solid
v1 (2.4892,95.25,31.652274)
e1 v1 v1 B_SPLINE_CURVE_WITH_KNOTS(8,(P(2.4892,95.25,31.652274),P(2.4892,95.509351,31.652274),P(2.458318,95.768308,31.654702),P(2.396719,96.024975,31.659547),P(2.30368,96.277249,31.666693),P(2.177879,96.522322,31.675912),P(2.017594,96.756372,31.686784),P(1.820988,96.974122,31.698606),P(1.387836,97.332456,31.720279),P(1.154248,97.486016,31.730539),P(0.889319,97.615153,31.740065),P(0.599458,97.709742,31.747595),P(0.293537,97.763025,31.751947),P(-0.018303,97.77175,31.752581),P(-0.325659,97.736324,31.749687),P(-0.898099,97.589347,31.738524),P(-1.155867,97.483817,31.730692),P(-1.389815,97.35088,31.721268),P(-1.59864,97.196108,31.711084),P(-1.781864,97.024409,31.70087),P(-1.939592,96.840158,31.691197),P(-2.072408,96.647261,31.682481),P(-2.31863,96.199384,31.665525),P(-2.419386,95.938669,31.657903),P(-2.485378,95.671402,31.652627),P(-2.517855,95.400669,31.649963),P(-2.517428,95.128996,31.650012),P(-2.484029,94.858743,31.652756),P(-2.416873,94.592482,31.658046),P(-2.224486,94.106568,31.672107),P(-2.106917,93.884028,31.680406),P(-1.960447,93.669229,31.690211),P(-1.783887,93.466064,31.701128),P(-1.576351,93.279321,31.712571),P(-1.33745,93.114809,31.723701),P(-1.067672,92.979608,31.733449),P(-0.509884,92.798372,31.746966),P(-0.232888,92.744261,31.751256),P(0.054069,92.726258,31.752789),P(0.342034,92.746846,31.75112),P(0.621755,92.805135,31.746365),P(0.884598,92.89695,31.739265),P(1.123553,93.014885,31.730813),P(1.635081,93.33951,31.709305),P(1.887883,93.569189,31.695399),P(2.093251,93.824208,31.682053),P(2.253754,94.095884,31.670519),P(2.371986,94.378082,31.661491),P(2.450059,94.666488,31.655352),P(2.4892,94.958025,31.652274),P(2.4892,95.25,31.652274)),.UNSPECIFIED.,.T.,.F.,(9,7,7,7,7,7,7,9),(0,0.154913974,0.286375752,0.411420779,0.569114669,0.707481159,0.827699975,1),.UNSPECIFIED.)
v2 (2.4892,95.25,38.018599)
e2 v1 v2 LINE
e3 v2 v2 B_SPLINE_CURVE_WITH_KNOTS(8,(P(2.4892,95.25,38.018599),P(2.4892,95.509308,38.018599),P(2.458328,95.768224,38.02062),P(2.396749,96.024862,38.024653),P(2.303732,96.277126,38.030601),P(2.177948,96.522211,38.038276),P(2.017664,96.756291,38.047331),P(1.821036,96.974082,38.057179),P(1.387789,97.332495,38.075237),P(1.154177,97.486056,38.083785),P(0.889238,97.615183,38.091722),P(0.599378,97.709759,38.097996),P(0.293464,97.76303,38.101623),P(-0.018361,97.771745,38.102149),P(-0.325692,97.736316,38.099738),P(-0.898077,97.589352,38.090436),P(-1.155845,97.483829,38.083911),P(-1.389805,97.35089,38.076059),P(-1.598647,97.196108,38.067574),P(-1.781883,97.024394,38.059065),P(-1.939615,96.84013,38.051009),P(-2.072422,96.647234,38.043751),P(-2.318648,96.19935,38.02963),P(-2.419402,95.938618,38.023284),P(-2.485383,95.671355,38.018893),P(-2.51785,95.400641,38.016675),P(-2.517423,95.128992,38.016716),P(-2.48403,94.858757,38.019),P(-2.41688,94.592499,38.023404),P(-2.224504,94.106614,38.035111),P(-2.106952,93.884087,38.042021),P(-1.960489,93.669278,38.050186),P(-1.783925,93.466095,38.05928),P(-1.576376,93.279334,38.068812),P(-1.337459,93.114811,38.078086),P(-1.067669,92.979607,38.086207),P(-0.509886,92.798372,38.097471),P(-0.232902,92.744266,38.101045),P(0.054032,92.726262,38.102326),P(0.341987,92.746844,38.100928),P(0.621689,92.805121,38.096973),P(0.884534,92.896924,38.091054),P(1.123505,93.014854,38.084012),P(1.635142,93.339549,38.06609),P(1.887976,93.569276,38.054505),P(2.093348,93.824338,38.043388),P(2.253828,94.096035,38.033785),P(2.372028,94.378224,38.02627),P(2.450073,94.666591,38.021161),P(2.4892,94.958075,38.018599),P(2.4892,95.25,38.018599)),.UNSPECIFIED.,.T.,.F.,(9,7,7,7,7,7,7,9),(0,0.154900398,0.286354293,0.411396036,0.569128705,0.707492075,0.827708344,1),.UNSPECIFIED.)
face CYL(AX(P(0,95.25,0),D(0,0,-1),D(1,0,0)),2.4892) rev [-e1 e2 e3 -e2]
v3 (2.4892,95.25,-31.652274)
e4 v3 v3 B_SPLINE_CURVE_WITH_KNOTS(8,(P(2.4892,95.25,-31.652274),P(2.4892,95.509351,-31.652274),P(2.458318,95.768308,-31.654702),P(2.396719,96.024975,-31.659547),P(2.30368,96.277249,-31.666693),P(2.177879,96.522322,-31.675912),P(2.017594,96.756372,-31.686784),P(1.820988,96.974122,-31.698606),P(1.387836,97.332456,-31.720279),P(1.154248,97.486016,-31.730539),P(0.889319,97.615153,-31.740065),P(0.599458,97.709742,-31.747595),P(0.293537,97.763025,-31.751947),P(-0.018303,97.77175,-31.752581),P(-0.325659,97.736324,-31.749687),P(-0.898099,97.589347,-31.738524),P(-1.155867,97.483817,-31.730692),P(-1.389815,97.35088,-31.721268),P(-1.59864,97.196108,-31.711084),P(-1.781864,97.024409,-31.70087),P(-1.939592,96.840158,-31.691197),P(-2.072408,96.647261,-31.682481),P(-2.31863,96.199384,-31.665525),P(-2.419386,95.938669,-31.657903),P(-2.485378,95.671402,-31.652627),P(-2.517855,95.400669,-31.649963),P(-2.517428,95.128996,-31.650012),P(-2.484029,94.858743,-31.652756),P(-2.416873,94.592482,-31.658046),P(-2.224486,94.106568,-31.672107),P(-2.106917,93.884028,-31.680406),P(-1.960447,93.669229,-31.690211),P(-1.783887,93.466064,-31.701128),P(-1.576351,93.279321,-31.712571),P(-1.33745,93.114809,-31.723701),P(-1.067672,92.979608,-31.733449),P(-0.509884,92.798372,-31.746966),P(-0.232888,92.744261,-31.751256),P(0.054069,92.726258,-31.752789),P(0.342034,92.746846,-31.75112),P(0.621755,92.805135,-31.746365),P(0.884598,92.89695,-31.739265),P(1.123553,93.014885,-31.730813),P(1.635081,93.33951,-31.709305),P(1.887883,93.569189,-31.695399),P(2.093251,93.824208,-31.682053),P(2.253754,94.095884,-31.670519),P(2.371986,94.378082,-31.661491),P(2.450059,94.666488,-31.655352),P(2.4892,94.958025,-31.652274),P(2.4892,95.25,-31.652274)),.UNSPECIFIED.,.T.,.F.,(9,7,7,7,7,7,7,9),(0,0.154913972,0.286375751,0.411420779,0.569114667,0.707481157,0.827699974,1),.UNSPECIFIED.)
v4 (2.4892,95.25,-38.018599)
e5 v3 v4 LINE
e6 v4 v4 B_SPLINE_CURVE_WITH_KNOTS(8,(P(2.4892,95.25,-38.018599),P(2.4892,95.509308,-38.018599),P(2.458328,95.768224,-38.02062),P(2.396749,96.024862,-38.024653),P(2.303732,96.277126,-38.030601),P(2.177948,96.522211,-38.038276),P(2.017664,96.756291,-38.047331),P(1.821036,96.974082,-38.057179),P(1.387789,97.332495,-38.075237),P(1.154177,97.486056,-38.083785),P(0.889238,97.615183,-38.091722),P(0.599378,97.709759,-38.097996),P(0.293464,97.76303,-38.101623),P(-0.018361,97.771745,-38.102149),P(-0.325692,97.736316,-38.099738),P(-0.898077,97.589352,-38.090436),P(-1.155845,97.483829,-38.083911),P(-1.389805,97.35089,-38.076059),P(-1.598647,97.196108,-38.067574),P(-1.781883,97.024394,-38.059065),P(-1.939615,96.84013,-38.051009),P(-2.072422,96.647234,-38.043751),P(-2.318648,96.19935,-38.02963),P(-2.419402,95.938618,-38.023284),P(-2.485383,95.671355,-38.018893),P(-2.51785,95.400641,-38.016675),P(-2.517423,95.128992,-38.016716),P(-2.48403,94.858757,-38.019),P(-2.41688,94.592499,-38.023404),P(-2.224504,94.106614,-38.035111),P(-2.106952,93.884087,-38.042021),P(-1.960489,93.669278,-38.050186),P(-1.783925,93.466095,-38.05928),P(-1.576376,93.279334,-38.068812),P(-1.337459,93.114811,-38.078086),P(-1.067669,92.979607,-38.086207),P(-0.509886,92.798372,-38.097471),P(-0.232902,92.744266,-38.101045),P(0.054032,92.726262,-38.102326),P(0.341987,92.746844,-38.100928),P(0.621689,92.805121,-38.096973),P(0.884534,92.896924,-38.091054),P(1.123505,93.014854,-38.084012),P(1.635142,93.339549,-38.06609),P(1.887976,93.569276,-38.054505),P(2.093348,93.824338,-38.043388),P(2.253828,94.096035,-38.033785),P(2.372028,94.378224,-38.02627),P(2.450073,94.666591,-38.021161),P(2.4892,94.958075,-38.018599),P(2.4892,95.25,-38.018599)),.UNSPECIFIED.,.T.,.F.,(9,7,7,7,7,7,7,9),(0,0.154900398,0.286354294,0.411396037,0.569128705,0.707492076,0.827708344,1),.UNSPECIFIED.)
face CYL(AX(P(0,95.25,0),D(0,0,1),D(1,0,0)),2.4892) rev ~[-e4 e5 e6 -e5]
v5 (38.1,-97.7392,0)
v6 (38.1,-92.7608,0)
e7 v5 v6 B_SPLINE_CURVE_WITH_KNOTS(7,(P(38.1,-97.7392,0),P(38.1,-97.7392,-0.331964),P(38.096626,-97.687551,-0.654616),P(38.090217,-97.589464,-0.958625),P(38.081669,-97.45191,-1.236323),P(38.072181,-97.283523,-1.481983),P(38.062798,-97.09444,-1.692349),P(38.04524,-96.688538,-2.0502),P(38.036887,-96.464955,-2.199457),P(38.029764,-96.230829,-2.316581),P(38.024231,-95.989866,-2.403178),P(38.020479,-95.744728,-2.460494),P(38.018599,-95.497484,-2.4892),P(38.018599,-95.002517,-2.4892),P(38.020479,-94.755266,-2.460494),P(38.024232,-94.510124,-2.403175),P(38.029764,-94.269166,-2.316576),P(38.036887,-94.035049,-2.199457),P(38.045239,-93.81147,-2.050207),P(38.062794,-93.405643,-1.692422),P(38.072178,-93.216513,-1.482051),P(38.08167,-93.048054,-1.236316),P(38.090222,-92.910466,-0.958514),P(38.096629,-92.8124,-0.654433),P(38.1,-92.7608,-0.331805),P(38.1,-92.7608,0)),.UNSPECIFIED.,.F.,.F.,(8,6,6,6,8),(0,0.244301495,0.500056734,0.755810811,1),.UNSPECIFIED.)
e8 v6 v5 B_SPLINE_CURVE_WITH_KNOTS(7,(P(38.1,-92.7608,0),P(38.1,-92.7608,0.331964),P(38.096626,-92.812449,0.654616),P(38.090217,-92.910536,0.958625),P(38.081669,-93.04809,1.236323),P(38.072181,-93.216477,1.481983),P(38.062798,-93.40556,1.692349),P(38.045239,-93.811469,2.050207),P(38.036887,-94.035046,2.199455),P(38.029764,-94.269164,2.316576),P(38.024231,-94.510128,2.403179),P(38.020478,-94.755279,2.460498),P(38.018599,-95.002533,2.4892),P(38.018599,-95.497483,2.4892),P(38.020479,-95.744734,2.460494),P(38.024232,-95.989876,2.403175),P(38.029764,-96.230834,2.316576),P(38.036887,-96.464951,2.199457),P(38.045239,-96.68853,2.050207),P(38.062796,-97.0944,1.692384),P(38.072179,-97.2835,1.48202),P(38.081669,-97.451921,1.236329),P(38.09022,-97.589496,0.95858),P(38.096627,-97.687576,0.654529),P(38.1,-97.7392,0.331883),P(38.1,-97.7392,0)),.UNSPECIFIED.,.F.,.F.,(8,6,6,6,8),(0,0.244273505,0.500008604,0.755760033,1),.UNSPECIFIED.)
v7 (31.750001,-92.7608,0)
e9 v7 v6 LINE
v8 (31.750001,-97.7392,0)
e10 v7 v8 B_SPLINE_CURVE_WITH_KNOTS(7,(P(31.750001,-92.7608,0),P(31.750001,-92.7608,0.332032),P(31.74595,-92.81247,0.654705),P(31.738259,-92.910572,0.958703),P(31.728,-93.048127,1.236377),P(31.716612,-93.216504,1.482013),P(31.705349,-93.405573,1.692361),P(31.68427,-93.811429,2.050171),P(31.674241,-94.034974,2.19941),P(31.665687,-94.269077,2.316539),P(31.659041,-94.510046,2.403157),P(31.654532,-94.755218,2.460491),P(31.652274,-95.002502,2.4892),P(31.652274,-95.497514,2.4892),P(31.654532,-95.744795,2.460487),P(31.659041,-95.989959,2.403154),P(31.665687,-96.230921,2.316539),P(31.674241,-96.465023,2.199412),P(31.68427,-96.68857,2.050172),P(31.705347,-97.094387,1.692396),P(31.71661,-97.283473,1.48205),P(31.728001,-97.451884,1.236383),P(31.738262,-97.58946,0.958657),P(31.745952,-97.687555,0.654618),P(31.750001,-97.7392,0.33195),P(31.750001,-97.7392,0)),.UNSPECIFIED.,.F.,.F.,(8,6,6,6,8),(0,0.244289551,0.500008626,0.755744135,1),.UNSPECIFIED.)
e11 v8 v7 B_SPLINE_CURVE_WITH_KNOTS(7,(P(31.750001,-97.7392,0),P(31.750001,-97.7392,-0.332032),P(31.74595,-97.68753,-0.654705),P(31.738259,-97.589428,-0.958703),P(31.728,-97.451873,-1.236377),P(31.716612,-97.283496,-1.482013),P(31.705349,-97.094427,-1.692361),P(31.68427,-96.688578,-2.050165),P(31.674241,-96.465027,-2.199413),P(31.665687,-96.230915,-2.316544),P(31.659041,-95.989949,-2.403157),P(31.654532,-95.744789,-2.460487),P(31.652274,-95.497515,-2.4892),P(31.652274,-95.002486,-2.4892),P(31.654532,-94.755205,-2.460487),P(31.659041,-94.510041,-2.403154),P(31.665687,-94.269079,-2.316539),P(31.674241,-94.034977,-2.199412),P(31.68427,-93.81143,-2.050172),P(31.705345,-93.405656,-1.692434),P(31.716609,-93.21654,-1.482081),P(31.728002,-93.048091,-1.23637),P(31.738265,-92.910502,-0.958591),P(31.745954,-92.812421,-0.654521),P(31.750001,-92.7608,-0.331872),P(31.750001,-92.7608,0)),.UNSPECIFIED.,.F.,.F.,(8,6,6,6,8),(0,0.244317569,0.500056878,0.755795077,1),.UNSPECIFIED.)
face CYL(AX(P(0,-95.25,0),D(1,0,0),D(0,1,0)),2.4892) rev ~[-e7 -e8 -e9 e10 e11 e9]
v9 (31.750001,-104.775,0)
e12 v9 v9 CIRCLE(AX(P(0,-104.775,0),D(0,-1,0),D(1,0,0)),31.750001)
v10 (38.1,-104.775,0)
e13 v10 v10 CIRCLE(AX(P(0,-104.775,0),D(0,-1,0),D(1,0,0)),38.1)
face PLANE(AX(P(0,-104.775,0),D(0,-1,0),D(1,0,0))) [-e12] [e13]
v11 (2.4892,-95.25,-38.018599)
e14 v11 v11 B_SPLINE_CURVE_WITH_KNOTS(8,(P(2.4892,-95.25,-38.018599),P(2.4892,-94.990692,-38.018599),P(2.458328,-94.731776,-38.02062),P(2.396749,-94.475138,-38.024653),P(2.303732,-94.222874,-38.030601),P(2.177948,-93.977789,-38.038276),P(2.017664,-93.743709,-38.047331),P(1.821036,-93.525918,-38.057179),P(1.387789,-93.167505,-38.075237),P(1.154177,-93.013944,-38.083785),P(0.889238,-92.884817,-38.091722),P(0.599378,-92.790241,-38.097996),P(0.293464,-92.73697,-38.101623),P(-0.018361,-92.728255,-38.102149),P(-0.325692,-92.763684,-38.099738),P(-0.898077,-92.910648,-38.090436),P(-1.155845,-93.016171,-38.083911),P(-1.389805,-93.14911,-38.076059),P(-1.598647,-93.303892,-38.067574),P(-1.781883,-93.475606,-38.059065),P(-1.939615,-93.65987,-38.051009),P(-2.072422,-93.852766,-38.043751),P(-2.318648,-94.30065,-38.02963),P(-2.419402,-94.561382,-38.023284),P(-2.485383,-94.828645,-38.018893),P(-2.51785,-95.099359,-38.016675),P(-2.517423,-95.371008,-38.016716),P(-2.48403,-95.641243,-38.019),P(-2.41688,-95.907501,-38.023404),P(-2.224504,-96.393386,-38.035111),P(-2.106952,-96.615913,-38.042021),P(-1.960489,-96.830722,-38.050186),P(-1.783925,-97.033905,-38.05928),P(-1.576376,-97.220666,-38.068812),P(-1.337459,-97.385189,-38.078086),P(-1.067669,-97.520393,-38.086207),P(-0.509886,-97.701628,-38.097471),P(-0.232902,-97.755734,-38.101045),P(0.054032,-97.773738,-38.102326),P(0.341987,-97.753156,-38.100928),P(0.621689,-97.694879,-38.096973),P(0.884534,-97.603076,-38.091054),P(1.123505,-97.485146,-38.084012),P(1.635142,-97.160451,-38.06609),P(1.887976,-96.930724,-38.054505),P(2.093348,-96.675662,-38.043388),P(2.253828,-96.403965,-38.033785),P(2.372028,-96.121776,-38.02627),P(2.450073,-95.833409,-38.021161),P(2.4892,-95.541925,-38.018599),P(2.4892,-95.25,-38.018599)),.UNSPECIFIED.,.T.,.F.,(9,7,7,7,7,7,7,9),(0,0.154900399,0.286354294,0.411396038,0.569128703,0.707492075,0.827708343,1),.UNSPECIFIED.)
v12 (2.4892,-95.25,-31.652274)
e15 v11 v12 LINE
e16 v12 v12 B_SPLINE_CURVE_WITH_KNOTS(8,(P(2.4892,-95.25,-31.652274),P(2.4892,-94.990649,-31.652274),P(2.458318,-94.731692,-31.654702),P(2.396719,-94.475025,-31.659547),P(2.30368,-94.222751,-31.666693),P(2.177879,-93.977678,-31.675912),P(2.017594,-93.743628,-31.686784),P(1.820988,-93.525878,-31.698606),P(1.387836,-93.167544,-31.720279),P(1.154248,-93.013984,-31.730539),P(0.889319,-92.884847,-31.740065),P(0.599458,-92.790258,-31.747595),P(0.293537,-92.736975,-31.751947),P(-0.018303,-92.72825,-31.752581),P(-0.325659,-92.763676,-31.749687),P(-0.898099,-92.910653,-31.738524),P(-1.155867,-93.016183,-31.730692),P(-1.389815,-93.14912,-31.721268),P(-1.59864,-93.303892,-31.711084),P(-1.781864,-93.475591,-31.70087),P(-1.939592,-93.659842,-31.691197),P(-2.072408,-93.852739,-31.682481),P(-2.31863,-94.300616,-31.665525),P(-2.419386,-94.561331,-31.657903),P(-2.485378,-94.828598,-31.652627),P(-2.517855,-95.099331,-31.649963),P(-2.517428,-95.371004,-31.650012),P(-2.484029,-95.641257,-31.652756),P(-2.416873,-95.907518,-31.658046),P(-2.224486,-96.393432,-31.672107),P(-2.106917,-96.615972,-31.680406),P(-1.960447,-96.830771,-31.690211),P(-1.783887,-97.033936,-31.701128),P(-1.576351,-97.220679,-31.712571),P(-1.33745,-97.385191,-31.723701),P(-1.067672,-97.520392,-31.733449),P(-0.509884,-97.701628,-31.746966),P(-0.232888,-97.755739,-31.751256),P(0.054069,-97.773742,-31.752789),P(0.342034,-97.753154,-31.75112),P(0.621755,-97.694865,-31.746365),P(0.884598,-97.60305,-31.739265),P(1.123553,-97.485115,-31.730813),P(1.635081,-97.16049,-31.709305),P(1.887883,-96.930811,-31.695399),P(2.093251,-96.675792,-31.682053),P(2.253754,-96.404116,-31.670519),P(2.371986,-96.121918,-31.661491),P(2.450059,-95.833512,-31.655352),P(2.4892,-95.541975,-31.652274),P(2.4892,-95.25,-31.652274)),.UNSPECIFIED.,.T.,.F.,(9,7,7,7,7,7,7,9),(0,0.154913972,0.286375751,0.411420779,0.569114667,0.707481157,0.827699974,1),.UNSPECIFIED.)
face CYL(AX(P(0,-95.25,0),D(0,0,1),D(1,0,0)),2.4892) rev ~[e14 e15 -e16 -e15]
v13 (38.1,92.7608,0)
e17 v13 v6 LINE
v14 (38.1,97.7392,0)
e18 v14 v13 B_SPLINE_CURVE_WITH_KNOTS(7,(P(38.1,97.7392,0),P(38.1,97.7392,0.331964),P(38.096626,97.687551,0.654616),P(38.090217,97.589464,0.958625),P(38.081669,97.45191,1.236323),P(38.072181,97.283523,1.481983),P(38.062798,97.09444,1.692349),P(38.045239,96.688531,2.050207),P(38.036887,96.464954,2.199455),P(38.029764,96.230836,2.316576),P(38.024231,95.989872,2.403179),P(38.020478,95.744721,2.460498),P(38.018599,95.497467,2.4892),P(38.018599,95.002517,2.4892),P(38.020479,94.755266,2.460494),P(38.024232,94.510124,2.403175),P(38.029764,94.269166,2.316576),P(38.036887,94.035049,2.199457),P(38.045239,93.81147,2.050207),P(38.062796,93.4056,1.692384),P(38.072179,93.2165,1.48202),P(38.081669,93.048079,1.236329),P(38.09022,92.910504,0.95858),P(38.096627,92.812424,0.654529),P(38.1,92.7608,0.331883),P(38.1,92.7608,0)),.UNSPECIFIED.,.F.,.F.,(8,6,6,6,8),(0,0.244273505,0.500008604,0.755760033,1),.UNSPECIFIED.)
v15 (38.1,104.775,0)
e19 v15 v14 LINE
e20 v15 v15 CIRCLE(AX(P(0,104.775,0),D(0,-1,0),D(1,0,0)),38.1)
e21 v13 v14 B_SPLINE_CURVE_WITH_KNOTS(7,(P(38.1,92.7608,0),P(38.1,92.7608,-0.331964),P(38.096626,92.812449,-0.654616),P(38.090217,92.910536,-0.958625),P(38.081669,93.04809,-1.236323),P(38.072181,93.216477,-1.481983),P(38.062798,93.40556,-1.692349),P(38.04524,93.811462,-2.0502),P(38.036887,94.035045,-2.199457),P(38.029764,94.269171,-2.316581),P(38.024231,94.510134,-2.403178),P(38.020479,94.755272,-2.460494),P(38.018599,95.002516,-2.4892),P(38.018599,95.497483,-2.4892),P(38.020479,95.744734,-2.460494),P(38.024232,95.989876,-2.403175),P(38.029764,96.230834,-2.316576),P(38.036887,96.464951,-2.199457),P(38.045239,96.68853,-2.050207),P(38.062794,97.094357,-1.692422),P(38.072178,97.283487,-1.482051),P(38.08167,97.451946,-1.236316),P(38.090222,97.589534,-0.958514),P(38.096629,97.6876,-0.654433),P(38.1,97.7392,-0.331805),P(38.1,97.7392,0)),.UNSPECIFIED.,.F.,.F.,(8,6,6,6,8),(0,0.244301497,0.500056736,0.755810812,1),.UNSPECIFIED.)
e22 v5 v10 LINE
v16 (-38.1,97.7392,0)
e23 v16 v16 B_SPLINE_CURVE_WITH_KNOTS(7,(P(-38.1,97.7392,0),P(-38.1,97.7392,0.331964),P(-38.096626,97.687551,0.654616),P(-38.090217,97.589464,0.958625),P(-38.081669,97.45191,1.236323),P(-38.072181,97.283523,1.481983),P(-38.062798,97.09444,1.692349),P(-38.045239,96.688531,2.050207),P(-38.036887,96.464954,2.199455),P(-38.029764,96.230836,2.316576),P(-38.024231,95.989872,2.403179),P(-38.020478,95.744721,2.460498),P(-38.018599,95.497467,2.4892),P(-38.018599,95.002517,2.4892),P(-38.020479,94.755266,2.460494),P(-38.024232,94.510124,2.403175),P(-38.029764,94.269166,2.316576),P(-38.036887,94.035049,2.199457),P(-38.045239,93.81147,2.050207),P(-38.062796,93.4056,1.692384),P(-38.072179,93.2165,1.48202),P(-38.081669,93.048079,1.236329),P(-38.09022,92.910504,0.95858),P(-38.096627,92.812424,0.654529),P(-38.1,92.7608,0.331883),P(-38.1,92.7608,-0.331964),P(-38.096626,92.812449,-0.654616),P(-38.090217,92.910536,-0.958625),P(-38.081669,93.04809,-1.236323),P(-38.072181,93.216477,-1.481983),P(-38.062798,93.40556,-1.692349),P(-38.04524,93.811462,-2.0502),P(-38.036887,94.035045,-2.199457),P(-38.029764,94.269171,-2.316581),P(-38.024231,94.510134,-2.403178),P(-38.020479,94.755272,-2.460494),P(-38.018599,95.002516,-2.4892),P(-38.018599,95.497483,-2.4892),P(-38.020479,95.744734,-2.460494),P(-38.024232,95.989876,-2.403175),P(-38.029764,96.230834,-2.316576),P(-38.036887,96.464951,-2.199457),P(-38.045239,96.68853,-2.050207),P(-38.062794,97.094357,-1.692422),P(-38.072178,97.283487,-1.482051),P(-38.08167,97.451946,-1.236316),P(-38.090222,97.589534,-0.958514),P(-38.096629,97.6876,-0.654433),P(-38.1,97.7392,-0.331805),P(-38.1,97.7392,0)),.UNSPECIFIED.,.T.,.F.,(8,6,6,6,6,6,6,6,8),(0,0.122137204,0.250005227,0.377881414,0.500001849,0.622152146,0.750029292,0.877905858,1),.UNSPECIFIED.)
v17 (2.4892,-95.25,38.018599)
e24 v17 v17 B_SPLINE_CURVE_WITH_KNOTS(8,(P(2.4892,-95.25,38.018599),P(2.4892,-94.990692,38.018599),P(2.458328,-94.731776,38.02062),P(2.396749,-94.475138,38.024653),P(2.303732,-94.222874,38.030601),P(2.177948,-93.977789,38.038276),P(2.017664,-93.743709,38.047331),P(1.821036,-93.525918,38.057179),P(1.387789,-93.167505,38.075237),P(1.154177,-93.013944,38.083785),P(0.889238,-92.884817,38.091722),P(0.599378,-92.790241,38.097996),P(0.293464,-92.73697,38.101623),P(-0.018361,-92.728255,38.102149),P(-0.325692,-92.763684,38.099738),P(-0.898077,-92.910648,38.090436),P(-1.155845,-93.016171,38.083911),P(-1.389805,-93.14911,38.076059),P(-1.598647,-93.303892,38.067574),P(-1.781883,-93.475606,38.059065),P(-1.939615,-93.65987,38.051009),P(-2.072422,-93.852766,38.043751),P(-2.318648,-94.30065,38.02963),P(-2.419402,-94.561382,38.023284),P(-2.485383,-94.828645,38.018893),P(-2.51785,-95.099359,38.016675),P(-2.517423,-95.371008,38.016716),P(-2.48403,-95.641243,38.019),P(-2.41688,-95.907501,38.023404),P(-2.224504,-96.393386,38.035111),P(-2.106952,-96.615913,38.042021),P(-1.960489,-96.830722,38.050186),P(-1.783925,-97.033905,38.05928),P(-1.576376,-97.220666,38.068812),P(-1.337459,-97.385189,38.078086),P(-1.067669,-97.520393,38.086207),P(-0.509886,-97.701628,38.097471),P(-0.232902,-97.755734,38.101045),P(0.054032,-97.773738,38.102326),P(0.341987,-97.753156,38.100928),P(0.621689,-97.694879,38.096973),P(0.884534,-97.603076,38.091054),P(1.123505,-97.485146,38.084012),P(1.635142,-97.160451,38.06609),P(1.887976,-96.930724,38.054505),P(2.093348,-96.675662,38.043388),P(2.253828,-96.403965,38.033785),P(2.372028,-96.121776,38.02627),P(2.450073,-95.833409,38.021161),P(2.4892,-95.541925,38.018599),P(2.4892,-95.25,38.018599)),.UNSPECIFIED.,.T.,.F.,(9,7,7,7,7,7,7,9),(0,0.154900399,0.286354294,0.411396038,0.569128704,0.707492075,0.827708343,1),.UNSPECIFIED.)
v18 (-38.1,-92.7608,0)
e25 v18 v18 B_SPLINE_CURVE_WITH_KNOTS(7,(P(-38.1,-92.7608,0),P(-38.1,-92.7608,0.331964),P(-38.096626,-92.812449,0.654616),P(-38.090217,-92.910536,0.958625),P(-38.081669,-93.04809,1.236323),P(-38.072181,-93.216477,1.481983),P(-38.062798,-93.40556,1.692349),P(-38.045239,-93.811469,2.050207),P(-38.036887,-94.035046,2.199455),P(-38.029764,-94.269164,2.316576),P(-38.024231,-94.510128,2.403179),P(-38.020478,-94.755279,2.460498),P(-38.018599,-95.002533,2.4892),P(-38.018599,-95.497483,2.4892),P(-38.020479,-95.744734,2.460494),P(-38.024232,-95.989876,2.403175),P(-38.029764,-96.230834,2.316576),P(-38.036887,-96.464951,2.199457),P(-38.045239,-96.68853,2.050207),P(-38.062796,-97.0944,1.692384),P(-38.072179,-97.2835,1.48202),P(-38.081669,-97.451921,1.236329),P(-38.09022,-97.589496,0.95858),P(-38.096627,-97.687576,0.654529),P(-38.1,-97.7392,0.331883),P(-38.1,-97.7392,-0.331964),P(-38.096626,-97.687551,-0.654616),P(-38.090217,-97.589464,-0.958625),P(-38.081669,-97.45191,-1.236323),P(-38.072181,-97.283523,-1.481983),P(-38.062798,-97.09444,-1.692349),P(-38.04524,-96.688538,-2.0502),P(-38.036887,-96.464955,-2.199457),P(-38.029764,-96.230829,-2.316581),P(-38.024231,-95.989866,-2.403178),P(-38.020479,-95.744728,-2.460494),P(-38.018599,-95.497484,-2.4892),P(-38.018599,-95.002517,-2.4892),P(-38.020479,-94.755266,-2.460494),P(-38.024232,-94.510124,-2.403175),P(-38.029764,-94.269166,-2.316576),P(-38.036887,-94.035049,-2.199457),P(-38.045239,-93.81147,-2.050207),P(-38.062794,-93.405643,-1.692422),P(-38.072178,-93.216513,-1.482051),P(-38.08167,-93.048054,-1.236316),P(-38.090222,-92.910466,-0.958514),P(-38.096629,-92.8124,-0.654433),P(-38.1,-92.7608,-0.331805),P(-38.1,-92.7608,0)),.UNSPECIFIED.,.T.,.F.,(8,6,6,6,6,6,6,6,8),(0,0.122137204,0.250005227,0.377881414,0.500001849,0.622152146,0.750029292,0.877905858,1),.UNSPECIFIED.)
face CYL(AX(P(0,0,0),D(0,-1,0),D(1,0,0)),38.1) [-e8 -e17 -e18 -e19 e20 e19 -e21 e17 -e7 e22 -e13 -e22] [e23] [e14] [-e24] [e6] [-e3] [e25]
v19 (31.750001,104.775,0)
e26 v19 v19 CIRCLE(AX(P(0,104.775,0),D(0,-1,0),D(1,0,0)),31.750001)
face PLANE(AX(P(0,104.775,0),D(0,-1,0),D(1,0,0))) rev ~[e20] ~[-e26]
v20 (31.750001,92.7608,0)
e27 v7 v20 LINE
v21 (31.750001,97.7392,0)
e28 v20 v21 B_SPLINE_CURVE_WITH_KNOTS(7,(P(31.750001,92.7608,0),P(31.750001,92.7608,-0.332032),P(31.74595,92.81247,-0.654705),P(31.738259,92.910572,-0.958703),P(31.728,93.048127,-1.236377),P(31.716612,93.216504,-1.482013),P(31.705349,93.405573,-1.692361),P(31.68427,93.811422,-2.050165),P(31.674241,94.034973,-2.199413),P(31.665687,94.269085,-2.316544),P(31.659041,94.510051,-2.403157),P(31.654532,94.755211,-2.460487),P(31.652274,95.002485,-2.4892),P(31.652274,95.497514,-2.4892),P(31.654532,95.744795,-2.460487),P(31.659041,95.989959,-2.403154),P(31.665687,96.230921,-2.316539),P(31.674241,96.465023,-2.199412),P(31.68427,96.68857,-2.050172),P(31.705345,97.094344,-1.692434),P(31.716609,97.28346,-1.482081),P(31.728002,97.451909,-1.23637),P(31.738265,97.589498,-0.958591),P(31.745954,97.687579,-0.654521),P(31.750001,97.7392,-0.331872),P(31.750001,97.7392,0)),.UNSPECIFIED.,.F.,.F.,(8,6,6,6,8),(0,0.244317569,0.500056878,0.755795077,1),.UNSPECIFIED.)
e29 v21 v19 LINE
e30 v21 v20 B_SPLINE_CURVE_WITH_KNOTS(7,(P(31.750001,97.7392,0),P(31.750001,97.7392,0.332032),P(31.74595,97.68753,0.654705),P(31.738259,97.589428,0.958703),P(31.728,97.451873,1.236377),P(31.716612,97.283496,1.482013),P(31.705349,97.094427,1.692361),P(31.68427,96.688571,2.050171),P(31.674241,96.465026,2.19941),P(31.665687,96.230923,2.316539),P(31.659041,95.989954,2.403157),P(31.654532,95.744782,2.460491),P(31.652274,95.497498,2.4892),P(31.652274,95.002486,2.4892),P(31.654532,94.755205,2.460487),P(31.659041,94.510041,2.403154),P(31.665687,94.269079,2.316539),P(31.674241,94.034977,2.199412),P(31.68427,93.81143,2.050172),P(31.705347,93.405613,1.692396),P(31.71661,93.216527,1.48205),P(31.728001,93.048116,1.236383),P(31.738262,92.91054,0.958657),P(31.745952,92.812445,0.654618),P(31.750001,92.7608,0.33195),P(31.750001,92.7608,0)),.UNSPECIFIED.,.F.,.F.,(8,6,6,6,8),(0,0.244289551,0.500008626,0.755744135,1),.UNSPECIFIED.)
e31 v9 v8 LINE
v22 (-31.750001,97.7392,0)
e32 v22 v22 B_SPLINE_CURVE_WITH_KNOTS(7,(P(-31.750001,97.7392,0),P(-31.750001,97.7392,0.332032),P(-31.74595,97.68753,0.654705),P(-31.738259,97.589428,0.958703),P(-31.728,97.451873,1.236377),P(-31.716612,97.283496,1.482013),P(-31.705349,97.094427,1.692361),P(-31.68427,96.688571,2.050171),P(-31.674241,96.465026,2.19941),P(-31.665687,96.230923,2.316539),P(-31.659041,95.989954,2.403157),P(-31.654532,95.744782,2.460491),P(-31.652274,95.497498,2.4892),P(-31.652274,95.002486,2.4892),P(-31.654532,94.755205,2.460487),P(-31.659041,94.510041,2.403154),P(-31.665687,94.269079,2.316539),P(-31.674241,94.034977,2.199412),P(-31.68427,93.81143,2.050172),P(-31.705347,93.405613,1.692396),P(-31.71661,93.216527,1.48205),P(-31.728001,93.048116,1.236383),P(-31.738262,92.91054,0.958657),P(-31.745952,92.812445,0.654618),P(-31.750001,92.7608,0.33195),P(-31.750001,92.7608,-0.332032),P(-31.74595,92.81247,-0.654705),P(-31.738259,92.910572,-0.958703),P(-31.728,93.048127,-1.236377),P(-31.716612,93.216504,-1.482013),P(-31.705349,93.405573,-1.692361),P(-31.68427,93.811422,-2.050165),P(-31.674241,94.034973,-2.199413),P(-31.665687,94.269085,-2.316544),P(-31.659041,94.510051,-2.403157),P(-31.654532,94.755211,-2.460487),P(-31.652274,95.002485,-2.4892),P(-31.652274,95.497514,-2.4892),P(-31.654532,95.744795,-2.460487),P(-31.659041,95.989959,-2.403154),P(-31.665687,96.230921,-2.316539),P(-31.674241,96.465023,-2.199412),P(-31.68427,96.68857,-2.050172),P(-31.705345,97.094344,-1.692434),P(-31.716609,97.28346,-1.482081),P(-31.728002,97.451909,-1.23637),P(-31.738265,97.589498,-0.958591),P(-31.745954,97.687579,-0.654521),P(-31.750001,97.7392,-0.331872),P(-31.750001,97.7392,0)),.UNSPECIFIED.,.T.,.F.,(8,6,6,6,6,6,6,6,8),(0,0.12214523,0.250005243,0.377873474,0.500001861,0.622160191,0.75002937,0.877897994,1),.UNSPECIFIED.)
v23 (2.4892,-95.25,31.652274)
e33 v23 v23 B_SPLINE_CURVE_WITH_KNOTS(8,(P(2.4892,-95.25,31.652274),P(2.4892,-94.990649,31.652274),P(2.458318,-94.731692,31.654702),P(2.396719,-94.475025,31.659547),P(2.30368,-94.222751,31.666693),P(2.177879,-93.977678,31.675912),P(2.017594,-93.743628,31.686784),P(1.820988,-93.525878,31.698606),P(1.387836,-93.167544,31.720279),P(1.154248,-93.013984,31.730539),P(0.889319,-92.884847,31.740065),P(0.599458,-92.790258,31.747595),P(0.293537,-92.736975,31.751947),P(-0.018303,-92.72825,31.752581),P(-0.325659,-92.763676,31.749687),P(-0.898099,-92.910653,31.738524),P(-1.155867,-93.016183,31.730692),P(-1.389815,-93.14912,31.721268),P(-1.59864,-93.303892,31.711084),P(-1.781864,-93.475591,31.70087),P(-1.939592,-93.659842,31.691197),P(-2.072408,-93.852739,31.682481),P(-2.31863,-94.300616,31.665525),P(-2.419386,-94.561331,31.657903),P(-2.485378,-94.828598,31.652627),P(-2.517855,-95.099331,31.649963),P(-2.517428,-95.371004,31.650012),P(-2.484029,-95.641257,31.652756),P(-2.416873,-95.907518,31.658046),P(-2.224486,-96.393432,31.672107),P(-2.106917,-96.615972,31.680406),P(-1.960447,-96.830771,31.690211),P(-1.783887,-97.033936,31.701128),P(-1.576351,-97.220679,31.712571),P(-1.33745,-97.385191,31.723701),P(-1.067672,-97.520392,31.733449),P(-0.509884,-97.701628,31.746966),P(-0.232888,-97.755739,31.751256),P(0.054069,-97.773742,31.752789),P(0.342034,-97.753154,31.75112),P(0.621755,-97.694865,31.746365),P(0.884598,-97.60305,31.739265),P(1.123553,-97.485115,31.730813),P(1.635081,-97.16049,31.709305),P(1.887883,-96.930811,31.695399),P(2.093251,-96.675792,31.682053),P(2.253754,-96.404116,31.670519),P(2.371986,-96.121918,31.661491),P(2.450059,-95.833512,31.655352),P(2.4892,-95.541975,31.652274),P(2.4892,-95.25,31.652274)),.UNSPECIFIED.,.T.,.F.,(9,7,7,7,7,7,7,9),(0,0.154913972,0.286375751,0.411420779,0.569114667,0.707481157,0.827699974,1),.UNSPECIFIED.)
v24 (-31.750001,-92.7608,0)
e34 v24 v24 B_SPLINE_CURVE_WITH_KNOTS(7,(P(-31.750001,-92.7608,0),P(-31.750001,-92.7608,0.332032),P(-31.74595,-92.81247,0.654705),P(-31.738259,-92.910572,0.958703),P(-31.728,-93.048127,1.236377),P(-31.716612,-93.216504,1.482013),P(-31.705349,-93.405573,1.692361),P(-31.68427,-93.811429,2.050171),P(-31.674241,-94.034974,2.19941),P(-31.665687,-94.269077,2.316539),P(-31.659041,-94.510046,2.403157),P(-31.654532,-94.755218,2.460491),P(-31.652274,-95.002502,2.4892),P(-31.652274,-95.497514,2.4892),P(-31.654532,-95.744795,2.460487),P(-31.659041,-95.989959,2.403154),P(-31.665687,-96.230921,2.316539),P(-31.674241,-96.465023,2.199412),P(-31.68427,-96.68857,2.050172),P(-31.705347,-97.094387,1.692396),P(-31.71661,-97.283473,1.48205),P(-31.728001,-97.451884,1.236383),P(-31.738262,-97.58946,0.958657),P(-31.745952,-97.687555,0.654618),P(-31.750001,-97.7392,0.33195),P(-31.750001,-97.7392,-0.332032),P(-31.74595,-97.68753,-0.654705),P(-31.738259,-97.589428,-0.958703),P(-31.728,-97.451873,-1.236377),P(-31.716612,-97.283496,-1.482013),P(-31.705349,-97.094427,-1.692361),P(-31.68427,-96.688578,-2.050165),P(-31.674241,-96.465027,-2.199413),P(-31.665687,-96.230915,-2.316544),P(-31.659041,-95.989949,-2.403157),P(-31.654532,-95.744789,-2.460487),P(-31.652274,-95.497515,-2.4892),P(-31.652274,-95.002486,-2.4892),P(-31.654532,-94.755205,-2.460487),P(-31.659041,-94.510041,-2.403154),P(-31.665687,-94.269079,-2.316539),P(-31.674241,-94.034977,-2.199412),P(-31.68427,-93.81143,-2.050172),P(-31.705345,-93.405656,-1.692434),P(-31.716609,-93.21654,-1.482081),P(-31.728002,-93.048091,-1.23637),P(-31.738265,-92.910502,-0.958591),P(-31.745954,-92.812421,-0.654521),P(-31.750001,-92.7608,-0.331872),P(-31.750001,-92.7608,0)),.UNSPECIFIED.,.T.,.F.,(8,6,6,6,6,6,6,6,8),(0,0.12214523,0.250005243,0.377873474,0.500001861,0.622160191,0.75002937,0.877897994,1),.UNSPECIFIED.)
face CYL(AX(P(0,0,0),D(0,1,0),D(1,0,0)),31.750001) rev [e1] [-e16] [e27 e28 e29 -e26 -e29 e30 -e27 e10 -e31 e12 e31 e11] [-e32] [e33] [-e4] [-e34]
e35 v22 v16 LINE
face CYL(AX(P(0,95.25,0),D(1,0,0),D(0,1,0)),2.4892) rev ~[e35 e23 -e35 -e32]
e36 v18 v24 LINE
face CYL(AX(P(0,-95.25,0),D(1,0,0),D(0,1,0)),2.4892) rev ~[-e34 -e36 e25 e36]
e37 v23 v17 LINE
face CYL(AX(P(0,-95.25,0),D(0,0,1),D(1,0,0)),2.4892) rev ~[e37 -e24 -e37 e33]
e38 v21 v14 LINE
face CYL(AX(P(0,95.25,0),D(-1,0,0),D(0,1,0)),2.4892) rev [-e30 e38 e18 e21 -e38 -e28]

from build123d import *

# Parameters (mm, degrees)
F0_R     = 38.1
F0_R_2   = 31.750001
F1_DEPTH = 104.775
F2_R     = 2.4892
F3_DEPTH = 101.6
F4_R     = 2.4892
F5_DEPTH = 101.6


with BuildPart() as f1:
    # F0 (on Front) → F1 (new body, symmetric)
    with BuildSketch(Plane.XZ):
        Circle(F0_R)
        Circle(F0_R_2, mode=Mode.SUBTRACT)
    extrude(amount=F1_DEPTH, both=True)

    # F2 (on Right) → F3 (cut, symmetric)
    with BuildSketch(Plane.YZ):
        with Locations((95.25, 0)):
            Circle(F2_R)
        with Locations((-95.25, 0)):
            Circle(F2_R)
    extrude(amount=F3_DEPTH, both=True, mode=Mode.SUBTRACT)

    # F4 (on Top) → F5 (cut, symmetric)
    with BuildSketch(Plane.XY):
        with Locations((0, 95.25)):
            Circle(F4_R)
        with Locations((0, -95.25)):
            Circle(F4_R)
    extrude(amount=F5_DEPTH, both=True, mode=Mode.SUBTRACT)


solid = f1.part
